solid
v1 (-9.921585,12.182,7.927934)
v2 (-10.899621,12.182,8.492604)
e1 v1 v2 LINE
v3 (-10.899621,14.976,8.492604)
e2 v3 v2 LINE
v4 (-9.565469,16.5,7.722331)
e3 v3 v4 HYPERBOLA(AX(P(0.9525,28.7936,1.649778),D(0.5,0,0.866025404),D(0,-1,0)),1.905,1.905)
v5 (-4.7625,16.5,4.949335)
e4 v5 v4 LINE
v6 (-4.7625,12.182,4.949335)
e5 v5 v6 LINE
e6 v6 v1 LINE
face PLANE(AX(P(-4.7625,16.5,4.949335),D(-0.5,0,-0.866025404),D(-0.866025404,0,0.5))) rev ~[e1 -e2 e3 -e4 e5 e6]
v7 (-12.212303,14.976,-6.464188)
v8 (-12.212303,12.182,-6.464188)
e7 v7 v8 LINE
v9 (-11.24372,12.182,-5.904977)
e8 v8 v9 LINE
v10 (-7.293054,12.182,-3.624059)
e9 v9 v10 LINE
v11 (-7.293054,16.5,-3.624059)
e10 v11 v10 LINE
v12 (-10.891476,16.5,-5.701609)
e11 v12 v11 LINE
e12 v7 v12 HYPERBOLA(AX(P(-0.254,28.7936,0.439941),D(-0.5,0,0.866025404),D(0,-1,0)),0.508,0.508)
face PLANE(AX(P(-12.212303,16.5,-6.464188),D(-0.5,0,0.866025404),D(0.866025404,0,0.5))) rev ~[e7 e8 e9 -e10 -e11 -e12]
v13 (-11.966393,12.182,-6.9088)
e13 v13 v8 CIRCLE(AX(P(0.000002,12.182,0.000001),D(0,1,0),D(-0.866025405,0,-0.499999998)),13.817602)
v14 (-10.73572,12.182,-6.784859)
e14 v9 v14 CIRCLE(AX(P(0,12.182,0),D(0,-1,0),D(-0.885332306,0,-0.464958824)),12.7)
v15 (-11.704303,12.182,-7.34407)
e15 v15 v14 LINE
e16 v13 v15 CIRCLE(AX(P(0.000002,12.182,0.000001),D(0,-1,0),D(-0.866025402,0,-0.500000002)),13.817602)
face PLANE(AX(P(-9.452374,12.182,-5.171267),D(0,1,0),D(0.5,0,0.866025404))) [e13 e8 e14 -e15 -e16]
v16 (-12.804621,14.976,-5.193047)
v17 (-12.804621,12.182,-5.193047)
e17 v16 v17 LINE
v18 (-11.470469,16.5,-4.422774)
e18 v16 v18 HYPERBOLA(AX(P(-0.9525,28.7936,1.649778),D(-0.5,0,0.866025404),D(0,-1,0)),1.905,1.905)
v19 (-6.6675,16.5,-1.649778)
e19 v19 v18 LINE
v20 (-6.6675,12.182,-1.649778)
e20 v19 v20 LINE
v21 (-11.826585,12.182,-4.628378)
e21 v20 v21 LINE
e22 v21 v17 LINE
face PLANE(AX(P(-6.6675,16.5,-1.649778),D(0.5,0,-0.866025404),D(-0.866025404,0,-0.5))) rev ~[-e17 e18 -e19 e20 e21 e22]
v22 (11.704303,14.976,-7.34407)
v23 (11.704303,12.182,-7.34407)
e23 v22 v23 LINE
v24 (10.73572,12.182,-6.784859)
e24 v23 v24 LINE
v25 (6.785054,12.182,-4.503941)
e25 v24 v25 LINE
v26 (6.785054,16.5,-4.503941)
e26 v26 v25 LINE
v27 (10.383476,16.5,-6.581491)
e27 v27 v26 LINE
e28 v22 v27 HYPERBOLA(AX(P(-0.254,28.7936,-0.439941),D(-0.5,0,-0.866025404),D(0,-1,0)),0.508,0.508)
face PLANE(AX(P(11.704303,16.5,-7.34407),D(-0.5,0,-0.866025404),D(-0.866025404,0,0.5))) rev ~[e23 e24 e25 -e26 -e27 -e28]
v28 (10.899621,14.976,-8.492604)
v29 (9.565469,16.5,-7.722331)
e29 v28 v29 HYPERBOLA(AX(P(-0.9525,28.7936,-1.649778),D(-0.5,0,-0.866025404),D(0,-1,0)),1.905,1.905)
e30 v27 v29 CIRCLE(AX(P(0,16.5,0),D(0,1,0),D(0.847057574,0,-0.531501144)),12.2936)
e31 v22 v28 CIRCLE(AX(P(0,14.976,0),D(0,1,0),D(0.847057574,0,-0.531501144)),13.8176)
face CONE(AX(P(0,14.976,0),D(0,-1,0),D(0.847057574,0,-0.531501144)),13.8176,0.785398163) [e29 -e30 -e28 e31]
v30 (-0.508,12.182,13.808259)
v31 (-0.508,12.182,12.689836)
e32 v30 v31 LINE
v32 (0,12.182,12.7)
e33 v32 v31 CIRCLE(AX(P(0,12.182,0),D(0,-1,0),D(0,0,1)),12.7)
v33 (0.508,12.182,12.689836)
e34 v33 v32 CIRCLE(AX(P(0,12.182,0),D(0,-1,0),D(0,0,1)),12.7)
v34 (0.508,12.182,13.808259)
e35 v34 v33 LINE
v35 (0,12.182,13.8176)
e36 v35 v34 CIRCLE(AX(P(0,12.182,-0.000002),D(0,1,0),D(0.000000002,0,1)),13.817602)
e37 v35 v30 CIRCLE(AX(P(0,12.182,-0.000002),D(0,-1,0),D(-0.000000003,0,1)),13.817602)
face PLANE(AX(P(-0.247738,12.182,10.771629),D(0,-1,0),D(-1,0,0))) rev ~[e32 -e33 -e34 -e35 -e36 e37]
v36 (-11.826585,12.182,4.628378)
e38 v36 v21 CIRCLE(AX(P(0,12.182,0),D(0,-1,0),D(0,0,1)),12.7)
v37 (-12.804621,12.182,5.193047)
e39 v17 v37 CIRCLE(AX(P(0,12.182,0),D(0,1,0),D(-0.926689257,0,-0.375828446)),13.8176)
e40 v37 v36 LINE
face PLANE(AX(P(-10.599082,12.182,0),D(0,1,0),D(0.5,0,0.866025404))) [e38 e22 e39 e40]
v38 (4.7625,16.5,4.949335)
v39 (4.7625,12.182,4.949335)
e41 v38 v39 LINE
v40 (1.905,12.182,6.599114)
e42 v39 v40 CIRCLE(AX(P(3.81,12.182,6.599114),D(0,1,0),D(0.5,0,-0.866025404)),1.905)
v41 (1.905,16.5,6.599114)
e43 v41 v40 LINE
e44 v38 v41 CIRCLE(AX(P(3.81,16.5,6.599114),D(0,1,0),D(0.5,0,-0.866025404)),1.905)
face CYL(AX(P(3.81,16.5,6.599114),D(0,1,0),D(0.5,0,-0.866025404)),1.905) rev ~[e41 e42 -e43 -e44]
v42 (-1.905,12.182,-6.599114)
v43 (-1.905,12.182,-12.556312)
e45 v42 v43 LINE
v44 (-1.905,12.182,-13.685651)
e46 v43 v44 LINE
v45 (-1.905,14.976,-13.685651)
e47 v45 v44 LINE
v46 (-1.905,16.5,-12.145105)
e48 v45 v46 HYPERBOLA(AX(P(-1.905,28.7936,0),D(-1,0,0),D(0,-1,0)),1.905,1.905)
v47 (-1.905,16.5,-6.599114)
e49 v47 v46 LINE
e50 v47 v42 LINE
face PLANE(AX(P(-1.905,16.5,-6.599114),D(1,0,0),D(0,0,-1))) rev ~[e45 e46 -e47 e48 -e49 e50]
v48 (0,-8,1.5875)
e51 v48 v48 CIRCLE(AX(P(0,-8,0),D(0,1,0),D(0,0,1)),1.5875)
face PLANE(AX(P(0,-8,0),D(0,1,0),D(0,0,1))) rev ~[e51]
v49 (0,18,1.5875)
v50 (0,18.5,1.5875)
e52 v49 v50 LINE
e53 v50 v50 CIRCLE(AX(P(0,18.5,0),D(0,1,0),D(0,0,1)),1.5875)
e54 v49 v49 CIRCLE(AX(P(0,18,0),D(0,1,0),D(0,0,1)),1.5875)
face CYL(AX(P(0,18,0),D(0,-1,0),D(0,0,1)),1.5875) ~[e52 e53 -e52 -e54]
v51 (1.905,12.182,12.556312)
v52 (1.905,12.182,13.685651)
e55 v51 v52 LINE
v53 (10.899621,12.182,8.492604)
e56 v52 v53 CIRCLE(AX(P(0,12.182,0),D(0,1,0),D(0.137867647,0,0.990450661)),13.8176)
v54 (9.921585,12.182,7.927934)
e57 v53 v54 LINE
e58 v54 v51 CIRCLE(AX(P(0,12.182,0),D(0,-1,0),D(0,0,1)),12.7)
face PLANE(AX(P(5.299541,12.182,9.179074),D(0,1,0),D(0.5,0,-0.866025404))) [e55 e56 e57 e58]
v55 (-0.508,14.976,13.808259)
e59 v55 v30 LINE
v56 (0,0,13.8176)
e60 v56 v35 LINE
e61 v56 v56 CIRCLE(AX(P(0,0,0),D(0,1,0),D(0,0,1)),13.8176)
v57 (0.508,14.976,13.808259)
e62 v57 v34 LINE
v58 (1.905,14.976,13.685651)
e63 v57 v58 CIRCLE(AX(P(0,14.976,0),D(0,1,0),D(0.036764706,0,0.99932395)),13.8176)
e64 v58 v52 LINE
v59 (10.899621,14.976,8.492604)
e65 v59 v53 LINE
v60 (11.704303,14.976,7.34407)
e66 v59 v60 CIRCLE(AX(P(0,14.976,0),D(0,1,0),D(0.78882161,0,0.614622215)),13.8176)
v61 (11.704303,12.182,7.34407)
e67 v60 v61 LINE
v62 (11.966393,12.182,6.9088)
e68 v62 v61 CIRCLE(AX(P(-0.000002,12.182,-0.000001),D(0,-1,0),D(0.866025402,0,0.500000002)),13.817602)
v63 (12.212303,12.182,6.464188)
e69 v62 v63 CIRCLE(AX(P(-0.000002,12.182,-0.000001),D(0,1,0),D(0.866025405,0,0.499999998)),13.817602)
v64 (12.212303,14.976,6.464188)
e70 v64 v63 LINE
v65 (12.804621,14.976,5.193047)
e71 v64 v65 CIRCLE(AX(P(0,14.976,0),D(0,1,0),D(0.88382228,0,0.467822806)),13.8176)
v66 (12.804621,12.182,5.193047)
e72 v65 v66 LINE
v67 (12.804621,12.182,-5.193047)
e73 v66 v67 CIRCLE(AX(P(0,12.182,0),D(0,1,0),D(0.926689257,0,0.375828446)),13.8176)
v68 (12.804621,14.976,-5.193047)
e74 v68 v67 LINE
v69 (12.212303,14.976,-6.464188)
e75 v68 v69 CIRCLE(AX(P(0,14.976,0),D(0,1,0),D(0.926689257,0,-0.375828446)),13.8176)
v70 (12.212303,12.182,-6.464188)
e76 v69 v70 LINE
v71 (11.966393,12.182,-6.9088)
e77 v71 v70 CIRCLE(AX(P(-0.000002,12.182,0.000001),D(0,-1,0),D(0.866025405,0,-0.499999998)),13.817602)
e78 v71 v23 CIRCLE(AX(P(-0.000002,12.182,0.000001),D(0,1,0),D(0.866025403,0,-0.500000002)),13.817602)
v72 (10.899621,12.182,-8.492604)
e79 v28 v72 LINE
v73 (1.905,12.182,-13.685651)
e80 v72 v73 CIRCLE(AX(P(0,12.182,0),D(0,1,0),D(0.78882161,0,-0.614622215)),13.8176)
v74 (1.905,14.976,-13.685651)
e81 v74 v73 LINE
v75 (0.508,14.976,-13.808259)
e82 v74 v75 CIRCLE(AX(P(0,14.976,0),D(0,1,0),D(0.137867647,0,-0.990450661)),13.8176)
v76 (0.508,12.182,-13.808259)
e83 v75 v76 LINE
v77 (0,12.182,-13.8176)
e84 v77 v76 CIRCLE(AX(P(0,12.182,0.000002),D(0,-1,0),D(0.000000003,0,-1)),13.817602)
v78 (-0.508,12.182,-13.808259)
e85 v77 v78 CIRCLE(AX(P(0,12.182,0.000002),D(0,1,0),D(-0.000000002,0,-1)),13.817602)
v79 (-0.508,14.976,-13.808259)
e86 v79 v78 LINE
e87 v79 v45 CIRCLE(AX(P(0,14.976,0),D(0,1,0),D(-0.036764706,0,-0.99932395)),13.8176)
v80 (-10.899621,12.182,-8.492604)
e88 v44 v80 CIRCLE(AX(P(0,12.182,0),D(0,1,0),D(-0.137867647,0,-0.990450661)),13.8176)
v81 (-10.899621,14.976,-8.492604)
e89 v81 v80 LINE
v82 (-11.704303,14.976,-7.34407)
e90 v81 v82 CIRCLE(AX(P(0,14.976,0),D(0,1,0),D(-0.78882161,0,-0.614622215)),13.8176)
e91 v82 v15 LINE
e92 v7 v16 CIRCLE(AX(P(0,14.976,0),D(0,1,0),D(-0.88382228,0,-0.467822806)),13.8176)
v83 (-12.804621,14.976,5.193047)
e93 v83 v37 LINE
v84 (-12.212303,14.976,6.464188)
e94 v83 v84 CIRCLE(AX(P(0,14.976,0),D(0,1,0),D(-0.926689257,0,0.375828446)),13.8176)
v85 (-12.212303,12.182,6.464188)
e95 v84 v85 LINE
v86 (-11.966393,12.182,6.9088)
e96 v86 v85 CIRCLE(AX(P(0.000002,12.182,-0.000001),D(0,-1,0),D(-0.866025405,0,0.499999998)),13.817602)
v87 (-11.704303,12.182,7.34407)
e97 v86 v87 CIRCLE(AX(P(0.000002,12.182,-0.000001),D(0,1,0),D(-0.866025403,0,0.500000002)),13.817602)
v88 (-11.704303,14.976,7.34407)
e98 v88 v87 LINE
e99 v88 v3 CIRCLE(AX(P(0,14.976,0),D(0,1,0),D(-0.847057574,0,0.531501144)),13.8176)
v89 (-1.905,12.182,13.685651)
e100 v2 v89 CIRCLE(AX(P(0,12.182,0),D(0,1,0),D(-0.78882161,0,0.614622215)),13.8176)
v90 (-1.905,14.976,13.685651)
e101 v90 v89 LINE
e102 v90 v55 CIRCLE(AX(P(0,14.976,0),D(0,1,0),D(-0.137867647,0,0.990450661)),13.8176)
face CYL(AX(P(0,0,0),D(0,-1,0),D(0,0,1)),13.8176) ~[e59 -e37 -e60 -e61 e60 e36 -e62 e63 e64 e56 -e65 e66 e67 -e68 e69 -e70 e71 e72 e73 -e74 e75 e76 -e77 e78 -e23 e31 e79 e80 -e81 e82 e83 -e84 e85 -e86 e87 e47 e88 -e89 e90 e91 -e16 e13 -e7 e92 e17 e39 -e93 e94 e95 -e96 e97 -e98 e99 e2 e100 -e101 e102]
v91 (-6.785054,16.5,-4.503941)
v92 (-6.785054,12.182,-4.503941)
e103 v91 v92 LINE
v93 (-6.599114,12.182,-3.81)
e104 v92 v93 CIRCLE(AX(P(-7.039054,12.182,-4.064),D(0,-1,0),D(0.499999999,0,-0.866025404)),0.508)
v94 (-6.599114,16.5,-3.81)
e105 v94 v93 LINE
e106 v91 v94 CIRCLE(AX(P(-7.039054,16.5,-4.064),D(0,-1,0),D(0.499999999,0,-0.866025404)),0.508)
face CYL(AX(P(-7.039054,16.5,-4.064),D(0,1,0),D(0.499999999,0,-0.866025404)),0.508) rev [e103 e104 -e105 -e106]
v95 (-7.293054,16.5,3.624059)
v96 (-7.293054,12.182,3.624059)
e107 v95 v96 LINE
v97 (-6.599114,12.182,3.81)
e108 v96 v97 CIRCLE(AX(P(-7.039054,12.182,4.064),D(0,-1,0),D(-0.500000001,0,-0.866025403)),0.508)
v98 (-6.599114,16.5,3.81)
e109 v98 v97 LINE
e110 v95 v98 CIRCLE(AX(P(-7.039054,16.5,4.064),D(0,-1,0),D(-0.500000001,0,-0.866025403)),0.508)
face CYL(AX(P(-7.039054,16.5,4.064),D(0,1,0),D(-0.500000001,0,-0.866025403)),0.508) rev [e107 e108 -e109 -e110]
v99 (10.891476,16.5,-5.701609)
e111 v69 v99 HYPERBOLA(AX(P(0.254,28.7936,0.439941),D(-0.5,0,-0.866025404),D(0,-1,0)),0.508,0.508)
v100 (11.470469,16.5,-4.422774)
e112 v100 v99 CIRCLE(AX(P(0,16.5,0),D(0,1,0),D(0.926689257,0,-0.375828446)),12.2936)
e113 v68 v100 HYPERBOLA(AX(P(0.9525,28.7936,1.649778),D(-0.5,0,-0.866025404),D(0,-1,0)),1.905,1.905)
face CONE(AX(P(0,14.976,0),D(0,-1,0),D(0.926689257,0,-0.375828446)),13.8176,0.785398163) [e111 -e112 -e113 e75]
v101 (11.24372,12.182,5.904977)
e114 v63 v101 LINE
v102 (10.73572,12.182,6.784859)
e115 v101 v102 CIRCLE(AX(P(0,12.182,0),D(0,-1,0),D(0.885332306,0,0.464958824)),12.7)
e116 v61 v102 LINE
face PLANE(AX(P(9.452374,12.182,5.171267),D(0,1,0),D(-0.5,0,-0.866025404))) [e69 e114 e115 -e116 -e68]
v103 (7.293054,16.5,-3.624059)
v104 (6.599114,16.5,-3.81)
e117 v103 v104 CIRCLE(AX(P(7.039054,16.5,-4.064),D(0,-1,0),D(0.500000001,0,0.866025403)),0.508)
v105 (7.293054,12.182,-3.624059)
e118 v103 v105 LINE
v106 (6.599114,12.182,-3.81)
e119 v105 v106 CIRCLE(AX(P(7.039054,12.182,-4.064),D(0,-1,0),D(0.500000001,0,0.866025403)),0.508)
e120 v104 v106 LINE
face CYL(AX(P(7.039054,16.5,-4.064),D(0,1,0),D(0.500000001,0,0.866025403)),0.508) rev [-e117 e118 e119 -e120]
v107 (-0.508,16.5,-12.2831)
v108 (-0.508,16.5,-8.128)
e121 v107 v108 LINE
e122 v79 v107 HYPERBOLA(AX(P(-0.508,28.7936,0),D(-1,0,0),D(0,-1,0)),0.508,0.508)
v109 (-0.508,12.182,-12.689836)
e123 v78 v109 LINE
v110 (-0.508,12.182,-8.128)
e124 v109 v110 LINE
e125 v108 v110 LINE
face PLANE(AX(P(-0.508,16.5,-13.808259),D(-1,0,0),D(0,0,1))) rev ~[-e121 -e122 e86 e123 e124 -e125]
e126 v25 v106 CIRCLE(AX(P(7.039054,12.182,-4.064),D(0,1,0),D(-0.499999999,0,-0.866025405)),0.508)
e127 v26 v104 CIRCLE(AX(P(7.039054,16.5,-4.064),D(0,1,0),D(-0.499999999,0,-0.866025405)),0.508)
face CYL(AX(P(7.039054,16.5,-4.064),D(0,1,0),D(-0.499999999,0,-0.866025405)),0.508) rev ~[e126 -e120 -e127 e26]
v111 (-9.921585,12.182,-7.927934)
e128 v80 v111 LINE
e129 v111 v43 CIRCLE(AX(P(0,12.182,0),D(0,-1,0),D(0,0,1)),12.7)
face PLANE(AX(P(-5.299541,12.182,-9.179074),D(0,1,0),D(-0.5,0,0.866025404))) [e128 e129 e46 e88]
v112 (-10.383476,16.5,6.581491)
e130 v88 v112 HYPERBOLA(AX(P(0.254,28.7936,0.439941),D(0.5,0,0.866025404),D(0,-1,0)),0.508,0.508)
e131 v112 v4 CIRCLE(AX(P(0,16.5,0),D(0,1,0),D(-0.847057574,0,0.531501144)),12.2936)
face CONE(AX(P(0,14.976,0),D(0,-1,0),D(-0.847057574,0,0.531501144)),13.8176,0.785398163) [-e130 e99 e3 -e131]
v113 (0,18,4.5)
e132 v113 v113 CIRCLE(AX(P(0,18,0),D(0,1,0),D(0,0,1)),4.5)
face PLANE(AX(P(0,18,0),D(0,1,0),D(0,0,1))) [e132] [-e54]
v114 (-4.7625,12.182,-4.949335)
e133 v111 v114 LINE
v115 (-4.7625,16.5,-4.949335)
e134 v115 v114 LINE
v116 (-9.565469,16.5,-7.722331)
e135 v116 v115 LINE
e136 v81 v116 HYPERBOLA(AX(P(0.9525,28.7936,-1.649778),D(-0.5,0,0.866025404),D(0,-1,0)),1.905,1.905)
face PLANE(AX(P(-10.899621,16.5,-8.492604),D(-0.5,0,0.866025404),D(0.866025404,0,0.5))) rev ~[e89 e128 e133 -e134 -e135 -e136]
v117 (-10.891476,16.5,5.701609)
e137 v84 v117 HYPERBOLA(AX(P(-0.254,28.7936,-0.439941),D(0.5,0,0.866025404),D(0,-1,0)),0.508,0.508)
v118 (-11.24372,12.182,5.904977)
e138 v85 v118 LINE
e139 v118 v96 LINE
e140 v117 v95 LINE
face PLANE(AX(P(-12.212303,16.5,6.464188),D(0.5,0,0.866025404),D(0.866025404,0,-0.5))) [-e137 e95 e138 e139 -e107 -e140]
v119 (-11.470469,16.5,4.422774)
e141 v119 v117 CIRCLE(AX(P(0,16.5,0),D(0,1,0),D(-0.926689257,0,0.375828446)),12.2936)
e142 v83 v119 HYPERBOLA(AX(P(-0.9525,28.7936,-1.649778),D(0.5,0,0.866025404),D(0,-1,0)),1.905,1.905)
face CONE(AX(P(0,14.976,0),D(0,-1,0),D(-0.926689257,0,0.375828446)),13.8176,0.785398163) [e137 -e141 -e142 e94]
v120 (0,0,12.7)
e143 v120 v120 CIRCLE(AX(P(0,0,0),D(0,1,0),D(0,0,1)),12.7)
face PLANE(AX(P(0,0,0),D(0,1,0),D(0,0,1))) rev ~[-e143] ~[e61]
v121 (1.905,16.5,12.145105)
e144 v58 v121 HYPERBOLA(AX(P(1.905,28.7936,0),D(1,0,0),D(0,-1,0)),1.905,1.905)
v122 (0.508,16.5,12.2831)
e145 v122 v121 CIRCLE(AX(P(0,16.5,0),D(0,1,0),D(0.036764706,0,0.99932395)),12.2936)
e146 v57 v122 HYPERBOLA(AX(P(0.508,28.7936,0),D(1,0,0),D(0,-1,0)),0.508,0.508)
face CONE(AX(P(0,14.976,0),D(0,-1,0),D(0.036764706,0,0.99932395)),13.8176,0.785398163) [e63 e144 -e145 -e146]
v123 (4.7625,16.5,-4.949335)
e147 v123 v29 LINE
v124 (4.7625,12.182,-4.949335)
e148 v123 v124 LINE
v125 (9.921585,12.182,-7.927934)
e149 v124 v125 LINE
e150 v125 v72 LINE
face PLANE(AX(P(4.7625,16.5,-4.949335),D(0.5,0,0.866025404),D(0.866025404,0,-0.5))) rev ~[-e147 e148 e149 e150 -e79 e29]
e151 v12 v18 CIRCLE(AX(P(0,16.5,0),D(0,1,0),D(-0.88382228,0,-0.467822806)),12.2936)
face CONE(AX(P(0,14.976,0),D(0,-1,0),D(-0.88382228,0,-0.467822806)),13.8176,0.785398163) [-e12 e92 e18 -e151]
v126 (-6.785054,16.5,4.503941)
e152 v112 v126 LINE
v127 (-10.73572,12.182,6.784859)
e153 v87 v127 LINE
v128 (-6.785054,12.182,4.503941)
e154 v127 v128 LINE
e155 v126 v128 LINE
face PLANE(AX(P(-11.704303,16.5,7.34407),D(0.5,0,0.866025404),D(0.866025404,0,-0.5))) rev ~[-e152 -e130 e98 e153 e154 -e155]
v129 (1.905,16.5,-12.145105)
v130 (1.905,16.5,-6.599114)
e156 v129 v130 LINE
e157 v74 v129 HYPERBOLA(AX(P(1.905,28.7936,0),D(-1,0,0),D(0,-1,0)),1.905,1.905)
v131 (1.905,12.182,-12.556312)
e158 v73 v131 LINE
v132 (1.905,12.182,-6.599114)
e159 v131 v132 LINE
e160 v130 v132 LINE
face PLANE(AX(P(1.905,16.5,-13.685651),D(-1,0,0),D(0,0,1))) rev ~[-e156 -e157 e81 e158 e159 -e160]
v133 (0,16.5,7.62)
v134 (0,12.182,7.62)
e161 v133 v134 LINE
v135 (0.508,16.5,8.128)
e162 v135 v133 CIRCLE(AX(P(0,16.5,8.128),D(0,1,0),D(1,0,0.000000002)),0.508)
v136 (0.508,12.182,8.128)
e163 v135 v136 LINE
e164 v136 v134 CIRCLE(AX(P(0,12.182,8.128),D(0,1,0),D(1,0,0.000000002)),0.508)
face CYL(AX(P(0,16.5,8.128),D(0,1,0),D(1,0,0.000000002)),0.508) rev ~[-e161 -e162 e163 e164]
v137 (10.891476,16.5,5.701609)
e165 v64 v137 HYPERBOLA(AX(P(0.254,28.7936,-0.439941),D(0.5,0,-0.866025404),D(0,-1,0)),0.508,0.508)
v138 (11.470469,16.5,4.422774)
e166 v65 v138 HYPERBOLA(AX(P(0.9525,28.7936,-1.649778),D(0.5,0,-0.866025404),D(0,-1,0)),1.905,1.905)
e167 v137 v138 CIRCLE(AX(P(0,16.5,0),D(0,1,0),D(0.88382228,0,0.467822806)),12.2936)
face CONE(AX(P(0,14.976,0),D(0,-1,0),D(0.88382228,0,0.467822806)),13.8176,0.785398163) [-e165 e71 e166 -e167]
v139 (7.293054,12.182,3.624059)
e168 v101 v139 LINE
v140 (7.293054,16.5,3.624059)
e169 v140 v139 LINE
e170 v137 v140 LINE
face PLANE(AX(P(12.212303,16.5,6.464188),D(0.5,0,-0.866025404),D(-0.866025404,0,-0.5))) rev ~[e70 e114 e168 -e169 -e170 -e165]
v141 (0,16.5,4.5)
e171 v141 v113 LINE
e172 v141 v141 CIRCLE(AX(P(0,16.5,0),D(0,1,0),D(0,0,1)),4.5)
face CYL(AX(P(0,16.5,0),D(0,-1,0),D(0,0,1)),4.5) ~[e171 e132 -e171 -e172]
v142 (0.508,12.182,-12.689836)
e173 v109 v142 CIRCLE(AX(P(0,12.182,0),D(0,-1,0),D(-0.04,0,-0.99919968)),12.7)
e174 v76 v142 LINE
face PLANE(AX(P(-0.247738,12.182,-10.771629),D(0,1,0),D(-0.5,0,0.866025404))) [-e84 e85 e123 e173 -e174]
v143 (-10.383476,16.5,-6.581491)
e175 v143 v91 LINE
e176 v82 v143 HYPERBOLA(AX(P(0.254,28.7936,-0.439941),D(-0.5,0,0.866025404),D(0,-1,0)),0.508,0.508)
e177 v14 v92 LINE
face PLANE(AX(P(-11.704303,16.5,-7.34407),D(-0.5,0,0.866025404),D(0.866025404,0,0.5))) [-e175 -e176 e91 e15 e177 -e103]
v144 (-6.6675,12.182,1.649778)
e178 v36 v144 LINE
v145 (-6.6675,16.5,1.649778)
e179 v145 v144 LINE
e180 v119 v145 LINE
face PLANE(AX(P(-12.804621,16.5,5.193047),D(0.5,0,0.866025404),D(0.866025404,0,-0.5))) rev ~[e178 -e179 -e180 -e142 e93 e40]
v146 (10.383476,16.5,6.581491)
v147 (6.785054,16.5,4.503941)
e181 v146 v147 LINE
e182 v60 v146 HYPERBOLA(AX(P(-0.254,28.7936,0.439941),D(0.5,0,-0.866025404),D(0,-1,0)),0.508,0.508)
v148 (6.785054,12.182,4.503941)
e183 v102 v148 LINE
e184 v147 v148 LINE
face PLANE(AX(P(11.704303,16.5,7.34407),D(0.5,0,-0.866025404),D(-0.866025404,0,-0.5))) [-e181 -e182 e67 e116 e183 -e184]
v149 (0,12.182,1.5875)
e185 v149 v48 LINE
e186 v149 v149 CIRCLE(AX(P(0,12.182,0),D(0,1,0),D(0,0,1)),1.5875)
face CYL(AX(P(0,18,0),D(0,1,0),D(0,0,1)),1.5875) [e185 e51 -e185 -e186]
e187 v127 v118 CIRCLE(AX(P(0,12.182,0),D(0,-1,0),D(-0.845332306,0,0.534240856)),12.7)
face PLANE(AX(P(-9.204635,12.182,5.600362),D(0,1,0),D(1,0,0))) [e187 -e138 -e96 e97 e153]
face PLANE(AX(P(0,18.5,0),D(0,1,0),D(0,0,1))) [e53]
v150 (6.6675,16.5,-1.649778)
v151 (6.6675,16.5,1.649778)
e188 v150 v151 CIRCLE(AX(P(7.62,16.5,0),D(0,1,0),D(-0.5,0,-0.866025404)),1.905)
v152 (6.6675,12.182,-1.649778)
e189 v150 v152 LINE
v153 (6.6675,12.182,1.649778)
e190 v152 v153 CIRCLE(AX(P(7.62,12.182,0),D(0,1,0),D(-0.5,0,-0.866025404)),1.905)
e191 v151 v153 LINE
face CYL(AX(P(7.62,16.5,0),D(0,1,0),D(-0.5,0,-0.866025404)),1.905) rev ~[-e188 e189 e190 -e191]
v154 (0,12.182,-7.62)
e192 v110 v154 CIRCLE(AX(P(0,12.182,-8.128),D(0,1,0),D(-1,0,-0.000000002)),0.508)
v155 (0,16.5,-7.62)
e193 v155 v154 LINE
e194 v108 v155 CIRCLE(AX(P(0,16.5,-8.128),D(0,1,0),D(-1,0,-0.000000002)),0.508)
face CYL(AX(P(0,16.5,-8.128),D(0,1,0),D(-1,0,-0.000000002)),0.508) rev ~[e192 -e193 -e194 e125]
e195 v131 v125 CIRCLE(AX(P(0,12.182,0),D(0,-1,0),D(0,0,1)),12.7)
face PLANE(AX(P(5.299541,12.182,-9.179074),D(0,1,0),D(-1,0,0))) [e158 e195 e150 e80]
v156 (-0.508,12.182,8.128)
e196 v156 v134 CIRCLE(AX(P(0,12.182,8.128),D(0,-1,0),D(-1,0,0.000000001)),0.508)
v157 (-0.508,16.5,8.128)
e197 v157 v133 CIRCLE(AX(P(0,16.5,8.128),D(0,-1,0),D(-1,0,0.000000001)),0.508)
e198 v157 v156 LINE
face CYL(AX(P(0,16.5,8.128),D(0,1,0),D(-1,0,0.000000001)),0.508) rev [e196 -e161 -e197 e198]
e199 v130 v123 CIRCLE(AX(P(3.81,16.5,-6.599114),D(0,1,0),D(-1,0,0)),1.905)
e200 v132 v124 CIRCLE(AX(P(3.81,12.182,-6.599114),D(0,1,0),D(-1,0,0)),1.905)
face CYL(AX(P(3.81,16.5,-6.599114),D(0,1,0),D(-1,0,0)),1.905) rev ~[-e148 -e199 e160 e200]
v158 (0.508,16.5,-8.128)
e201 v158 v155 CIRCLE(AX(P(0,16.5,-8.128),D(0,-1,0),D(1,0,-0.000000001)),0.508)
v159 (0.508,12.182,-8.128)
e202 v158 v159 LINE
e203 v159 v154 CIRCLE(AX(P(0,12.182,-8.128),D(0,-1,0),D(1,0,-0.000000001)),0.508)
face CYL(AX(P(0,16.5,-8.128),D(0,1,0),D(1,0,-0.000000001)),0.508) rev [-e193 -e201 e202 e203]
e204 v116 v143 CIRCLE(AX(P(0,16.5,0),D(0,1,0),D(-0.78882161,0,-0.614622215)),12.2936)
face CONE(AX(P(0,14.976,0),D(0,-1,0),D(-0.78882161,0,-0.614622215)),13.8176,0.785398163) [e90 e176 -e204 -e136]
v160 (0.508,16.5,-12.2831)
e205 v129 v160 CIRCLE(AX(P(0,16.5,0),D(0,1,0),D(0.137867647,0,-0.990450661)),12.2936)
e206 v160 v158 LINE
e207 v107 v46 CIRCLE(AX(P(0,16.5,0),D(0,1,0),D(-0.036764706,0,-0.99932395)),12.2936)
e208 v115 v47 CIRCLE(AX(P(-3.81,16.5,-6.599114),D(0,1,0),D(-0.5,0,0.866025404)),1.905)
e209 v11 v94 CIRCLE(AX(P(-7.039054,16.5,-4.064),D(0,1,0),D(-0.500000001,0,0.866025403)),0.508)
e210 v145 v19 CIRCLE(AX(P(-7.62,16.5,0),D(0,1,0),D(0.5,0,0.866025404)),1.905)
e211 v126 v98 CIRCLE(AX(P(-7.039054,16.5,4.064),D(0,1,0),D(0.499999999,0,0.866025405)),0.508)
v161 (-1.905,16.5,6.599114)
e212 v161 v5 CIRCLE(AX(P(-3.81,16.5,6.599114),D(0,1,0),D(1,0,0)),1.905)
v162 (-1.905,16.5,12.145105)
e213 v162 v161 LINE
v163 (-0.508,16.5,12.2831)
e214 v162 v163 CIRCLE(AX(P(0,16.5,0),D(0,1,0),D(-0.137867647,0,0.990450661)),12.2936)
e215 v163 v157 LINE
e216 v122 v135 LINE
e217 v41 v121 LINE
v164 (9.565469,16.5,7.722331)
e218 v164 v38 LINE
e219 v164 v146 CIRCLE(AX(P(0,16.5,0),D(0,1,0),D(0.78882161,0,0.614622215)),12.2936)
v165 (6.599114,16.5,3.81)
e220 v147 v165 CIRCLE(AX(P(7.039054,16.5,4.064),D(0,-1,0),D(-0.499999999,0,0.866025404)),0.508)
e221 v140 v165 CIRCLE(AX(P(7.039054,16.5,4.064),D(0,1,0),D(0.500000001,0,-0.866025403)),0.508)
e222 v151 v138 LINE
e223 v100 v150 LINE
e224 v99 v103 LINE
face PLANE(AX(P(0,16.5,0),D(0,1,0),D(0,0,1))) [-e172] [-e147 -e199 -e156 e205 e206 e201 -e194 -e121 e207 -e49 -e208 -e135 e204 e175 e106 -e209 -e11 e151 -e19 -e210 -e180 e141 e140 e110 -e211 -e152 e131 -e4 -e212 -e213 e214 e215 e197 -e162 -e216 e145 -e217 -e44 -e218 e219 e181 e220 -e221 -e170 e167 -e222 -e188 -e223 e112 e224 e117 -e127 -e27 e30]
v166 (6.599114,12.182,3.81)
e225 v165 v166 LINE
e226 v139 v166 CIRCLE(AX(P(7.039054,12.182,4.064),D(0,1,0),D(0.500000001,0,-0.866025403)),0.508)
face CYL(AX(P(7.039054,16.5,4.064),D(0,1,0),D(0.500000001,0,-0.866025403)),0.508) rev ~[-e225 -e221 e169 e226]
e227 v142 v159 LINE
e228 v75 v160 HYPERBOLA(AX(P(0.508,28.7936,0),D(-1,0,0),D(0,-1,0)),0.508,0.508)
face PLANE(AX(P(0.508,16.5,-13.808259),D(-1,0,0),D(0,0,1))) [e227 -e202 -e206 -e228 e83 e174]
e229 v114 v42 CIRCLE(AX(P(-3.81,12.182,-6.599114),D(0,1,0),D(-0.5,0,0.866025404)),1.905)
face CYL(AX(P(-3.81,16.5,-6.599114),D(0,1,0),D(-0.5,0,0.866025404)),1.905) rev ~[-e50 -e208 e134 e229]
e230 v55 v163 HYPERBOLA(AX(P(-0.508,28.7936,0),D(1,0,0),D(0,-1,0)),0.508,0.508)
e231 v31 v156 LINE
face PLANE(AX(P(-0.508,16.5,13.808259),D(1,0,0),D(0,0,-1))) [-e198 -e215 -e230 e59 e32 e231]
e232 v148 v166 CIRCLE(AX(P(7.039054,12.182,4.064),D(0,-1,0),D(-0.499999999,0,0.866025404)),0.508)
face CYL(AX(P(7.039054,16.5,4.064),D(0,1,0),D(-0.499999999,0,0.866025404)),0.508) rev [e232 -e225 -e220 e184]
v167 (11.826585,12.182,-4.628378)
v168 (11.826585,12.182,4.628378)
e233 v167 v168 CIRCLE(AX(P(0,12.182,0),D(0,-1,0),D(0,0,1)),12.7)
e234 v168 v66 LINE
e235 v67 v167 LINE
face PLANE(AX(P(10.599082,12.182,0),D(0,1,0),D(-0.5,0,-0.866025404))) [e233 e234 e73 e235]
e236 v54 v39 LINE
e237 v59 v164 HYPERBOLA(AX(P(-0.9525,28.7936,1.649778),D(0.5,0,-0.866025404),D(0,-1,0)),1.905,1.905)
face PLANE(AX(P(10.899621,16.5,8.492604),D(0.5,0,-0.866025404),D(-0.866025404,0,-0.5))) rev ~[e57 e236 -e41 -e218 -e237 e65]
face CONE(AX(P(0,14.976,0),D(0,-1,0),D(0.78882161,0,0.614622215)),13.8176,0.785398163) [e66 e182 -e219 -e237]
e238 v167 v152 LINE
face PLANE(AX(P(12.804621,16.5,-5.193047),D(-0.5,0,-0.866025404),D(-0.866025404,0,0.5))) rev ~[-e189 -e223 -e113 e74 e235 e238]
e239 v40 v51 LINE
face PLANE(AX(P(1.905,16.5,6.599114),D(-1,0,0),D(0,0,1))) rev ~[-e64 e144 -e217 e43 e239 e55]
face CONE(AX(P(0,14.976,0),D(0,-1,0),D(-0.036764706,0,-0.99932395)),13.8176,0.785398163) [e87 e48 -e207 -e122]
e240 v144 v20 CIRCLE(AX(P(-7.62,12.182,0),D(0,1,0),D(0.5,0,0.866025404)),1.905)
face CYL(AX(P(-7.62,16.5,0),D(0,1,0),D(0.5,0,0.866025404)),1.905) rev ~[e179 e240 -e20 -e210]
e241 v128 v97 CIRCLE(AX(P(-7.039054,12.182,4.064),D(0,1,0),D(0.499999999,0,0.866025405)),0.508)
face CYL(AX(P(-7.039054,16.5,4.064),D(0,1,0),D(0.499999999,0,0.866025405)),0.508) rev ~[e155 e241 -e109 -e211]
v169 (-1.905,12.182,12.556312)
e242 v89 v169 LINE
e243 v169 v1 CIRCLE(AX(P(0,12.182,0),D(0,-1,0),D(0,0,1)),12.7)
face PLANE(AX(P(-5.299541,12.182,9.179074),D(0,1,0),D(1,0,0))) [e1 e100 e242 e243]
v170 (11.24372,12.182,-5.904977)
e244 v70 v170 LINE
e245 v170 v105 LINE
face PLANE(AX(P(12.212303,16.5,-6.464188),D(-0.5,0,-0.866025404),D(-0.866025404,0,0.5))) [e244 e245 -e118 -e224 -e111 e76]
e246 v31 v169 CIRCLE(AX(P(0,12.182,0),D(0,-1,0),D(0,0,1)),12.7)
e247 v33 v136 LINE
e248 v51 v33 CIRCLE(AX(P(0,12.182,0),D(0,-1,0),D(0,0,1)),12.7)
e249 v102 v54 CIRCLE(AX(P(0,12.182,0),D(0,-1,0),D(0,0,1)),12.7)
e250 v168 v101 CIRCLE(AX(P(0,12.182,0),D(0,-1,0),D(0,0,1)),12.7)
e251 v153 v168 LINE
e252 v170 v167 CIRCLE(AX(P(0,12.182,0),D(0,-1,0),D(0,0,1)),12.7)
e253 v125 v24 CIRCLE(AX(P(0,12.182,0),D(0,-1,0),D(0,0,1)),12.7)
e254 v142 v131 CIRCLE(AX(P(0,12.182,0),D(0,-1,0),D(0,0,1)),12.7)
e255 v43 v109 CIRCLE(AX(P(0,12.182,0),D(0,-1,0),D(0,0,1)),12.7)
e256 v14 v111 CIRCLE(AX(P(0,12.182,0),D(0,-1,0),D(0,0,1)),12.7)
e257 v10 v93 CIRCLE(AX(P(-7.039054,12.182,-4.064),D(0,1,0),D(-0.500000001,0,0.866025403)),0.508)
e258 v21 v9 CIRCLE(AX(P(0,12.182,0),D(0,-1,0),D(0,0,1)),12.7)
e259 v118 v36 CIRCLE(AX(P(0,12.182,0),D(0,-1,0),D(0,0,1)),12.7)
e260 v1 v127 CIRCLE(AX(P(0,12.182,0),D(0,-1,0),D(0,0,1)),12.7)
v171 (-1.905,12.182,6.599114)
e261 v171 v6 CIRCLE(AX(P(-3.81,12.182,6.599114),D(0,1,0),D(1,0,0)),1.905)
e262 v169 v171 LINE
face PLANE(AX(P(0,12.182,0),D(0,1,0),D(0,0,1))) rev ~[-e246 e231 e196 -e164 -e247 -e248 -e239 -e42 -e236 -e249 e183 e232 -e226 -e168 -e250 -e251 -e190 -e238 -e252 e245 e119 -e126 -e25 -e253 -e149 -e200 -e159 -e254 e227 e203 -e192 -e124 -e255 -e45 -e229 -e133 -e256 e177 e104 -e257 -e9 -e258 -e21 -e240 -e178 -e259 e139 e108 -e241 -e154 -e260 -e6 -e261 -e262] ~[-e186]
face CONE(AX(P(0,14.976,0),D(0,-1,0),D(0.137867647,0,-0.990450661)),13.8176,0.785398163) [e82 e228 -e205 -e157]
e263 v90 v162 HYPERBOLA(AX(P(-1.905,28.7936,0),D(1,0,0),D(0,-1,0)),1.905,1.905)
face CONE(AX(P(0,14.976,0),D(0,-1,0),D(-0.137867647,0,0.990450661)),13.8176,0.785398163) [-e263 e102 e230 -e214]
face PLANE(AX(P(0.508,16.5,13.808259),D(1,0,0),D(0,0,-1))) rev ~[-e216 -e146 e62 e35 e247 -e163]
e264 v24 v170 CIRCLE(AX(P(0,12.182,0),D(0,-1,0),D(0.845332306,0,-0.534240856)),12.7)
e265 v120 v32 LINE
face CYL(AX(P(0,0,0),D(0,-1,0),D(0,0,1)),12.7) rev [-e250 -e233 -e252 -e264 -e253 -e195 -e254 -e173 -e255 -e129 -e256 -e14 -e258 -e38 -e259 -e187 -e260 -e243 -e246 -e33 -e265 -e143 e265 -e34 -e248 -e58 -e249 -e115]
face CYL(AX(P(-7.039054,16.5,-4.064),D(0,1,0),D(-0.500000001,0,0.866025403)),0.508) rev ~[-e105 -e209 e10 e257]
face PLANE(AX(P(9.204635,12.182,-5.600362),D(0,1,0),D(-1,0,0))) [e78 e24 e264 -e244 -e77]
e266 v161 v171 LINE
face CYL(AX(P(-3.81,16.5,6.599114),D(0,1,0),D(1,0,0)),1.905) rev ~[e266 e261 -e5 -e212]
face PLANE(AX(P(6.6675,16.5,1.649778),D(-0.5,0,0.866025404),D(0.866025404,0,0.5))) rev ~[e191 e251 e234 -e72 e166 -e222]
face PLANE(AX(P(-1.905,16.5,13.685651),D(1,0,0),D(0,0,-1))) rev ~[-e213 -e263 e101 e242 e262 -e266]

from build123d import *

# Parameters (mm, degrees)
SKETCH1_R                = 13.8176
SKETCH1_R_2              = 12.7
BOSS_EXTRUDE1_DEPTH      = 16.5
SKETCH2_R                = 13.8176
BOSS_EXTRUDE2_DEPTH      = 4.318
CUT_EXTRUDE1_DEPTH       = 4.318
CIRPATTERN1_COUNT        = 6
CHAMFER1_SIZE            = 1.524
SKETCH4_R                = 4.5
BOSS_EXTRUDE3_DEPTH      = 1.5
SKETCH5_R                = 1.5875
BOSS_EXTRUDE4_DEPTH      = 0.5
BOSS_EXTRUDE4_DEPTH_BACK = 26


with BuildPart() as part:
    # Sketch1 → Boss-Extrude1 (new body)
    with BuildSketch(Plane(origin=(0, 0, 0), x_dir=(1, 0, 0), z_dir=(0, 1, 0))):
        with Locations(Location((0, 0, 0), (0, 0, 270))):  # turned: the seam where the file's is
            Circle(SKETCH1_R)
        with Locations(Location((0, 0, 0), (0, 0, 270))):  # turned: the seam where the file's is
            Circle(SKETCH1_R_2, mode=Mode.SUBTRACT)
    extrude(amount=BOSS_EXTRUDE1_DEPTH)

    # Sketch2 → Boss-Extrude2 (add)
    with BuildSketch(Plane(origin=(0, 16.5, 0), x_dir=(-1, 0, 0), z_dir=(0, 1, 0))):
        with Locations(Location((0, 0, 0), (0, 0, 90))):  # turned: the seam where the file's is
            Circle(SKETCH2_R)
    extrude(amount=-BOSS_EXTRUDE2_DEPTH)

    # Sketch3 → Cut-Extrude1 (cut)
    with BuildSketch(Plane(origin=(0, 16.5, 0), x_dir=(-1, 0, 0), z_dir=(0, 1, 0))):
        with BuildLine():
            Line((-1.905, -13.685651054), (-1.905, -6.599113577))
            ThreePointArc((-1.905, -6.599113577), (-2.8575, -4.949335183), (-4.7625, -4.949335183))
            Line((-4.7625, -4.949335183), (-10.89962148, -8.492603921))
            ThreePointArc((-10.89962148, -8.492603921), (-6.9088, -11.966392619), (-1.905, -13.685651054))
        make_face()
        with BuildLine():
            Line((-0.508, -13.808258607), (-0.508, -8.128))
            ThreePointArc((-0.508, -8.128), (-0.359210245, -7.768789755), (0, -7.62))
            Line((0, -7.62), (0, -13.8176))
            ThreePointArc((0, -13.8176), (-0.25404294, -13.815264454), (-0.508, -13.808258607))
        make_face()
        with BuildLine():
            Line((-11.704302736, -7.344070209), (-6.785054482, -4.503940905))
            ThreePointArc((-6.785054482, -4.503940905), (-6.548364162, -4.195480075), (-6.599113577, -3.81))
            Line((-6.599113577, -3.81), (-11.966392619, -6.9088))
            ThreePointArc((-11.966392619, -6.9088), (-11.837348507, -7.127639867), (-11.704302736, -7.344070209))
        make_face()
    cut_extrude1 = extrude(amount=-CUT_EXTRUDE1_DEPTH, mode=Mode.SUBTRACT)

    # CirPattern1: Cut-Extrude1 ×6 about axis
    cirpattern1_axis = Axis((0, 0, 0), (0, 1, 0))
    for i in range(1, CIRPATTERN1_COUNT):
        add(cut_extrude1.rotate(cirpattern1_axis, i * 360 / CIRPATTERN1_COUNT), mode=Mode.SUBTRACT)

    # Chamfer1
    chamfer1_edges = [part.edges().sort_by_distance(p)[0] for p in [
        (-12.524598769, 16.5, 5.83613703),
        (-11.316542312, 16.5, 7.928552191),
        (-1.208056457, 16.5, 13.764689221),
        (1.208056457, 16.5, 13.764689221),
        (1.208056457, 16.5, -13.764689221),
        (11.316542312, 16.5, 7.928552191),
        (12.524598769, 16.5, 5.83613703),
        (12.524598769, 16.5, -5.83613703),
        (11.316542312, 16.5, -7.928552191),
        (-11.316542312, 16.5, -7.928552191),
        (-12.524598769, 16.5, -5.83613703),
        (-1.208056457, 16.5, -13.764689221),
    ]]
    chamfer(chamfer1_edges, length=CHAMFER1_SIZE)

    # Sketch4 → Boss-Extrude3 (add)
    with BuildSketch(Plane(origin=(0, 16.5, 0), x_dir=(-1, 0, 0), z_dir=(0, 1, 0))):
        with Locations(Location((0, 0, 0), (0, 0, 90))):  # turned: the seam where the file's is
            Circle(SKETCH4_R)
    extrude(amount=BOSS_EXTRUDE3_DEPTH)

    # Sketch5 → Boss-Extrude4 (add, two sides)
    with BuildSketch(Plane(origin=(0, 18, 0), x_dir=(-1, 0, 0), z_dir=(0, 1, 0))) as boss_extrude4_sk:
        with Locations(Location((0, 0, 0), (0, 0, 90))):  # turned: the seam where the file's is
            Circle(SKETCH5_R)
    extrude(amount=BOSS_EXTRUDE4_DEPTH)
    extrude(boss_extrude4_sk.sketch, amount=-BOSS_EXTRUDE4_DEPTH_BACK)


solid = part.part
